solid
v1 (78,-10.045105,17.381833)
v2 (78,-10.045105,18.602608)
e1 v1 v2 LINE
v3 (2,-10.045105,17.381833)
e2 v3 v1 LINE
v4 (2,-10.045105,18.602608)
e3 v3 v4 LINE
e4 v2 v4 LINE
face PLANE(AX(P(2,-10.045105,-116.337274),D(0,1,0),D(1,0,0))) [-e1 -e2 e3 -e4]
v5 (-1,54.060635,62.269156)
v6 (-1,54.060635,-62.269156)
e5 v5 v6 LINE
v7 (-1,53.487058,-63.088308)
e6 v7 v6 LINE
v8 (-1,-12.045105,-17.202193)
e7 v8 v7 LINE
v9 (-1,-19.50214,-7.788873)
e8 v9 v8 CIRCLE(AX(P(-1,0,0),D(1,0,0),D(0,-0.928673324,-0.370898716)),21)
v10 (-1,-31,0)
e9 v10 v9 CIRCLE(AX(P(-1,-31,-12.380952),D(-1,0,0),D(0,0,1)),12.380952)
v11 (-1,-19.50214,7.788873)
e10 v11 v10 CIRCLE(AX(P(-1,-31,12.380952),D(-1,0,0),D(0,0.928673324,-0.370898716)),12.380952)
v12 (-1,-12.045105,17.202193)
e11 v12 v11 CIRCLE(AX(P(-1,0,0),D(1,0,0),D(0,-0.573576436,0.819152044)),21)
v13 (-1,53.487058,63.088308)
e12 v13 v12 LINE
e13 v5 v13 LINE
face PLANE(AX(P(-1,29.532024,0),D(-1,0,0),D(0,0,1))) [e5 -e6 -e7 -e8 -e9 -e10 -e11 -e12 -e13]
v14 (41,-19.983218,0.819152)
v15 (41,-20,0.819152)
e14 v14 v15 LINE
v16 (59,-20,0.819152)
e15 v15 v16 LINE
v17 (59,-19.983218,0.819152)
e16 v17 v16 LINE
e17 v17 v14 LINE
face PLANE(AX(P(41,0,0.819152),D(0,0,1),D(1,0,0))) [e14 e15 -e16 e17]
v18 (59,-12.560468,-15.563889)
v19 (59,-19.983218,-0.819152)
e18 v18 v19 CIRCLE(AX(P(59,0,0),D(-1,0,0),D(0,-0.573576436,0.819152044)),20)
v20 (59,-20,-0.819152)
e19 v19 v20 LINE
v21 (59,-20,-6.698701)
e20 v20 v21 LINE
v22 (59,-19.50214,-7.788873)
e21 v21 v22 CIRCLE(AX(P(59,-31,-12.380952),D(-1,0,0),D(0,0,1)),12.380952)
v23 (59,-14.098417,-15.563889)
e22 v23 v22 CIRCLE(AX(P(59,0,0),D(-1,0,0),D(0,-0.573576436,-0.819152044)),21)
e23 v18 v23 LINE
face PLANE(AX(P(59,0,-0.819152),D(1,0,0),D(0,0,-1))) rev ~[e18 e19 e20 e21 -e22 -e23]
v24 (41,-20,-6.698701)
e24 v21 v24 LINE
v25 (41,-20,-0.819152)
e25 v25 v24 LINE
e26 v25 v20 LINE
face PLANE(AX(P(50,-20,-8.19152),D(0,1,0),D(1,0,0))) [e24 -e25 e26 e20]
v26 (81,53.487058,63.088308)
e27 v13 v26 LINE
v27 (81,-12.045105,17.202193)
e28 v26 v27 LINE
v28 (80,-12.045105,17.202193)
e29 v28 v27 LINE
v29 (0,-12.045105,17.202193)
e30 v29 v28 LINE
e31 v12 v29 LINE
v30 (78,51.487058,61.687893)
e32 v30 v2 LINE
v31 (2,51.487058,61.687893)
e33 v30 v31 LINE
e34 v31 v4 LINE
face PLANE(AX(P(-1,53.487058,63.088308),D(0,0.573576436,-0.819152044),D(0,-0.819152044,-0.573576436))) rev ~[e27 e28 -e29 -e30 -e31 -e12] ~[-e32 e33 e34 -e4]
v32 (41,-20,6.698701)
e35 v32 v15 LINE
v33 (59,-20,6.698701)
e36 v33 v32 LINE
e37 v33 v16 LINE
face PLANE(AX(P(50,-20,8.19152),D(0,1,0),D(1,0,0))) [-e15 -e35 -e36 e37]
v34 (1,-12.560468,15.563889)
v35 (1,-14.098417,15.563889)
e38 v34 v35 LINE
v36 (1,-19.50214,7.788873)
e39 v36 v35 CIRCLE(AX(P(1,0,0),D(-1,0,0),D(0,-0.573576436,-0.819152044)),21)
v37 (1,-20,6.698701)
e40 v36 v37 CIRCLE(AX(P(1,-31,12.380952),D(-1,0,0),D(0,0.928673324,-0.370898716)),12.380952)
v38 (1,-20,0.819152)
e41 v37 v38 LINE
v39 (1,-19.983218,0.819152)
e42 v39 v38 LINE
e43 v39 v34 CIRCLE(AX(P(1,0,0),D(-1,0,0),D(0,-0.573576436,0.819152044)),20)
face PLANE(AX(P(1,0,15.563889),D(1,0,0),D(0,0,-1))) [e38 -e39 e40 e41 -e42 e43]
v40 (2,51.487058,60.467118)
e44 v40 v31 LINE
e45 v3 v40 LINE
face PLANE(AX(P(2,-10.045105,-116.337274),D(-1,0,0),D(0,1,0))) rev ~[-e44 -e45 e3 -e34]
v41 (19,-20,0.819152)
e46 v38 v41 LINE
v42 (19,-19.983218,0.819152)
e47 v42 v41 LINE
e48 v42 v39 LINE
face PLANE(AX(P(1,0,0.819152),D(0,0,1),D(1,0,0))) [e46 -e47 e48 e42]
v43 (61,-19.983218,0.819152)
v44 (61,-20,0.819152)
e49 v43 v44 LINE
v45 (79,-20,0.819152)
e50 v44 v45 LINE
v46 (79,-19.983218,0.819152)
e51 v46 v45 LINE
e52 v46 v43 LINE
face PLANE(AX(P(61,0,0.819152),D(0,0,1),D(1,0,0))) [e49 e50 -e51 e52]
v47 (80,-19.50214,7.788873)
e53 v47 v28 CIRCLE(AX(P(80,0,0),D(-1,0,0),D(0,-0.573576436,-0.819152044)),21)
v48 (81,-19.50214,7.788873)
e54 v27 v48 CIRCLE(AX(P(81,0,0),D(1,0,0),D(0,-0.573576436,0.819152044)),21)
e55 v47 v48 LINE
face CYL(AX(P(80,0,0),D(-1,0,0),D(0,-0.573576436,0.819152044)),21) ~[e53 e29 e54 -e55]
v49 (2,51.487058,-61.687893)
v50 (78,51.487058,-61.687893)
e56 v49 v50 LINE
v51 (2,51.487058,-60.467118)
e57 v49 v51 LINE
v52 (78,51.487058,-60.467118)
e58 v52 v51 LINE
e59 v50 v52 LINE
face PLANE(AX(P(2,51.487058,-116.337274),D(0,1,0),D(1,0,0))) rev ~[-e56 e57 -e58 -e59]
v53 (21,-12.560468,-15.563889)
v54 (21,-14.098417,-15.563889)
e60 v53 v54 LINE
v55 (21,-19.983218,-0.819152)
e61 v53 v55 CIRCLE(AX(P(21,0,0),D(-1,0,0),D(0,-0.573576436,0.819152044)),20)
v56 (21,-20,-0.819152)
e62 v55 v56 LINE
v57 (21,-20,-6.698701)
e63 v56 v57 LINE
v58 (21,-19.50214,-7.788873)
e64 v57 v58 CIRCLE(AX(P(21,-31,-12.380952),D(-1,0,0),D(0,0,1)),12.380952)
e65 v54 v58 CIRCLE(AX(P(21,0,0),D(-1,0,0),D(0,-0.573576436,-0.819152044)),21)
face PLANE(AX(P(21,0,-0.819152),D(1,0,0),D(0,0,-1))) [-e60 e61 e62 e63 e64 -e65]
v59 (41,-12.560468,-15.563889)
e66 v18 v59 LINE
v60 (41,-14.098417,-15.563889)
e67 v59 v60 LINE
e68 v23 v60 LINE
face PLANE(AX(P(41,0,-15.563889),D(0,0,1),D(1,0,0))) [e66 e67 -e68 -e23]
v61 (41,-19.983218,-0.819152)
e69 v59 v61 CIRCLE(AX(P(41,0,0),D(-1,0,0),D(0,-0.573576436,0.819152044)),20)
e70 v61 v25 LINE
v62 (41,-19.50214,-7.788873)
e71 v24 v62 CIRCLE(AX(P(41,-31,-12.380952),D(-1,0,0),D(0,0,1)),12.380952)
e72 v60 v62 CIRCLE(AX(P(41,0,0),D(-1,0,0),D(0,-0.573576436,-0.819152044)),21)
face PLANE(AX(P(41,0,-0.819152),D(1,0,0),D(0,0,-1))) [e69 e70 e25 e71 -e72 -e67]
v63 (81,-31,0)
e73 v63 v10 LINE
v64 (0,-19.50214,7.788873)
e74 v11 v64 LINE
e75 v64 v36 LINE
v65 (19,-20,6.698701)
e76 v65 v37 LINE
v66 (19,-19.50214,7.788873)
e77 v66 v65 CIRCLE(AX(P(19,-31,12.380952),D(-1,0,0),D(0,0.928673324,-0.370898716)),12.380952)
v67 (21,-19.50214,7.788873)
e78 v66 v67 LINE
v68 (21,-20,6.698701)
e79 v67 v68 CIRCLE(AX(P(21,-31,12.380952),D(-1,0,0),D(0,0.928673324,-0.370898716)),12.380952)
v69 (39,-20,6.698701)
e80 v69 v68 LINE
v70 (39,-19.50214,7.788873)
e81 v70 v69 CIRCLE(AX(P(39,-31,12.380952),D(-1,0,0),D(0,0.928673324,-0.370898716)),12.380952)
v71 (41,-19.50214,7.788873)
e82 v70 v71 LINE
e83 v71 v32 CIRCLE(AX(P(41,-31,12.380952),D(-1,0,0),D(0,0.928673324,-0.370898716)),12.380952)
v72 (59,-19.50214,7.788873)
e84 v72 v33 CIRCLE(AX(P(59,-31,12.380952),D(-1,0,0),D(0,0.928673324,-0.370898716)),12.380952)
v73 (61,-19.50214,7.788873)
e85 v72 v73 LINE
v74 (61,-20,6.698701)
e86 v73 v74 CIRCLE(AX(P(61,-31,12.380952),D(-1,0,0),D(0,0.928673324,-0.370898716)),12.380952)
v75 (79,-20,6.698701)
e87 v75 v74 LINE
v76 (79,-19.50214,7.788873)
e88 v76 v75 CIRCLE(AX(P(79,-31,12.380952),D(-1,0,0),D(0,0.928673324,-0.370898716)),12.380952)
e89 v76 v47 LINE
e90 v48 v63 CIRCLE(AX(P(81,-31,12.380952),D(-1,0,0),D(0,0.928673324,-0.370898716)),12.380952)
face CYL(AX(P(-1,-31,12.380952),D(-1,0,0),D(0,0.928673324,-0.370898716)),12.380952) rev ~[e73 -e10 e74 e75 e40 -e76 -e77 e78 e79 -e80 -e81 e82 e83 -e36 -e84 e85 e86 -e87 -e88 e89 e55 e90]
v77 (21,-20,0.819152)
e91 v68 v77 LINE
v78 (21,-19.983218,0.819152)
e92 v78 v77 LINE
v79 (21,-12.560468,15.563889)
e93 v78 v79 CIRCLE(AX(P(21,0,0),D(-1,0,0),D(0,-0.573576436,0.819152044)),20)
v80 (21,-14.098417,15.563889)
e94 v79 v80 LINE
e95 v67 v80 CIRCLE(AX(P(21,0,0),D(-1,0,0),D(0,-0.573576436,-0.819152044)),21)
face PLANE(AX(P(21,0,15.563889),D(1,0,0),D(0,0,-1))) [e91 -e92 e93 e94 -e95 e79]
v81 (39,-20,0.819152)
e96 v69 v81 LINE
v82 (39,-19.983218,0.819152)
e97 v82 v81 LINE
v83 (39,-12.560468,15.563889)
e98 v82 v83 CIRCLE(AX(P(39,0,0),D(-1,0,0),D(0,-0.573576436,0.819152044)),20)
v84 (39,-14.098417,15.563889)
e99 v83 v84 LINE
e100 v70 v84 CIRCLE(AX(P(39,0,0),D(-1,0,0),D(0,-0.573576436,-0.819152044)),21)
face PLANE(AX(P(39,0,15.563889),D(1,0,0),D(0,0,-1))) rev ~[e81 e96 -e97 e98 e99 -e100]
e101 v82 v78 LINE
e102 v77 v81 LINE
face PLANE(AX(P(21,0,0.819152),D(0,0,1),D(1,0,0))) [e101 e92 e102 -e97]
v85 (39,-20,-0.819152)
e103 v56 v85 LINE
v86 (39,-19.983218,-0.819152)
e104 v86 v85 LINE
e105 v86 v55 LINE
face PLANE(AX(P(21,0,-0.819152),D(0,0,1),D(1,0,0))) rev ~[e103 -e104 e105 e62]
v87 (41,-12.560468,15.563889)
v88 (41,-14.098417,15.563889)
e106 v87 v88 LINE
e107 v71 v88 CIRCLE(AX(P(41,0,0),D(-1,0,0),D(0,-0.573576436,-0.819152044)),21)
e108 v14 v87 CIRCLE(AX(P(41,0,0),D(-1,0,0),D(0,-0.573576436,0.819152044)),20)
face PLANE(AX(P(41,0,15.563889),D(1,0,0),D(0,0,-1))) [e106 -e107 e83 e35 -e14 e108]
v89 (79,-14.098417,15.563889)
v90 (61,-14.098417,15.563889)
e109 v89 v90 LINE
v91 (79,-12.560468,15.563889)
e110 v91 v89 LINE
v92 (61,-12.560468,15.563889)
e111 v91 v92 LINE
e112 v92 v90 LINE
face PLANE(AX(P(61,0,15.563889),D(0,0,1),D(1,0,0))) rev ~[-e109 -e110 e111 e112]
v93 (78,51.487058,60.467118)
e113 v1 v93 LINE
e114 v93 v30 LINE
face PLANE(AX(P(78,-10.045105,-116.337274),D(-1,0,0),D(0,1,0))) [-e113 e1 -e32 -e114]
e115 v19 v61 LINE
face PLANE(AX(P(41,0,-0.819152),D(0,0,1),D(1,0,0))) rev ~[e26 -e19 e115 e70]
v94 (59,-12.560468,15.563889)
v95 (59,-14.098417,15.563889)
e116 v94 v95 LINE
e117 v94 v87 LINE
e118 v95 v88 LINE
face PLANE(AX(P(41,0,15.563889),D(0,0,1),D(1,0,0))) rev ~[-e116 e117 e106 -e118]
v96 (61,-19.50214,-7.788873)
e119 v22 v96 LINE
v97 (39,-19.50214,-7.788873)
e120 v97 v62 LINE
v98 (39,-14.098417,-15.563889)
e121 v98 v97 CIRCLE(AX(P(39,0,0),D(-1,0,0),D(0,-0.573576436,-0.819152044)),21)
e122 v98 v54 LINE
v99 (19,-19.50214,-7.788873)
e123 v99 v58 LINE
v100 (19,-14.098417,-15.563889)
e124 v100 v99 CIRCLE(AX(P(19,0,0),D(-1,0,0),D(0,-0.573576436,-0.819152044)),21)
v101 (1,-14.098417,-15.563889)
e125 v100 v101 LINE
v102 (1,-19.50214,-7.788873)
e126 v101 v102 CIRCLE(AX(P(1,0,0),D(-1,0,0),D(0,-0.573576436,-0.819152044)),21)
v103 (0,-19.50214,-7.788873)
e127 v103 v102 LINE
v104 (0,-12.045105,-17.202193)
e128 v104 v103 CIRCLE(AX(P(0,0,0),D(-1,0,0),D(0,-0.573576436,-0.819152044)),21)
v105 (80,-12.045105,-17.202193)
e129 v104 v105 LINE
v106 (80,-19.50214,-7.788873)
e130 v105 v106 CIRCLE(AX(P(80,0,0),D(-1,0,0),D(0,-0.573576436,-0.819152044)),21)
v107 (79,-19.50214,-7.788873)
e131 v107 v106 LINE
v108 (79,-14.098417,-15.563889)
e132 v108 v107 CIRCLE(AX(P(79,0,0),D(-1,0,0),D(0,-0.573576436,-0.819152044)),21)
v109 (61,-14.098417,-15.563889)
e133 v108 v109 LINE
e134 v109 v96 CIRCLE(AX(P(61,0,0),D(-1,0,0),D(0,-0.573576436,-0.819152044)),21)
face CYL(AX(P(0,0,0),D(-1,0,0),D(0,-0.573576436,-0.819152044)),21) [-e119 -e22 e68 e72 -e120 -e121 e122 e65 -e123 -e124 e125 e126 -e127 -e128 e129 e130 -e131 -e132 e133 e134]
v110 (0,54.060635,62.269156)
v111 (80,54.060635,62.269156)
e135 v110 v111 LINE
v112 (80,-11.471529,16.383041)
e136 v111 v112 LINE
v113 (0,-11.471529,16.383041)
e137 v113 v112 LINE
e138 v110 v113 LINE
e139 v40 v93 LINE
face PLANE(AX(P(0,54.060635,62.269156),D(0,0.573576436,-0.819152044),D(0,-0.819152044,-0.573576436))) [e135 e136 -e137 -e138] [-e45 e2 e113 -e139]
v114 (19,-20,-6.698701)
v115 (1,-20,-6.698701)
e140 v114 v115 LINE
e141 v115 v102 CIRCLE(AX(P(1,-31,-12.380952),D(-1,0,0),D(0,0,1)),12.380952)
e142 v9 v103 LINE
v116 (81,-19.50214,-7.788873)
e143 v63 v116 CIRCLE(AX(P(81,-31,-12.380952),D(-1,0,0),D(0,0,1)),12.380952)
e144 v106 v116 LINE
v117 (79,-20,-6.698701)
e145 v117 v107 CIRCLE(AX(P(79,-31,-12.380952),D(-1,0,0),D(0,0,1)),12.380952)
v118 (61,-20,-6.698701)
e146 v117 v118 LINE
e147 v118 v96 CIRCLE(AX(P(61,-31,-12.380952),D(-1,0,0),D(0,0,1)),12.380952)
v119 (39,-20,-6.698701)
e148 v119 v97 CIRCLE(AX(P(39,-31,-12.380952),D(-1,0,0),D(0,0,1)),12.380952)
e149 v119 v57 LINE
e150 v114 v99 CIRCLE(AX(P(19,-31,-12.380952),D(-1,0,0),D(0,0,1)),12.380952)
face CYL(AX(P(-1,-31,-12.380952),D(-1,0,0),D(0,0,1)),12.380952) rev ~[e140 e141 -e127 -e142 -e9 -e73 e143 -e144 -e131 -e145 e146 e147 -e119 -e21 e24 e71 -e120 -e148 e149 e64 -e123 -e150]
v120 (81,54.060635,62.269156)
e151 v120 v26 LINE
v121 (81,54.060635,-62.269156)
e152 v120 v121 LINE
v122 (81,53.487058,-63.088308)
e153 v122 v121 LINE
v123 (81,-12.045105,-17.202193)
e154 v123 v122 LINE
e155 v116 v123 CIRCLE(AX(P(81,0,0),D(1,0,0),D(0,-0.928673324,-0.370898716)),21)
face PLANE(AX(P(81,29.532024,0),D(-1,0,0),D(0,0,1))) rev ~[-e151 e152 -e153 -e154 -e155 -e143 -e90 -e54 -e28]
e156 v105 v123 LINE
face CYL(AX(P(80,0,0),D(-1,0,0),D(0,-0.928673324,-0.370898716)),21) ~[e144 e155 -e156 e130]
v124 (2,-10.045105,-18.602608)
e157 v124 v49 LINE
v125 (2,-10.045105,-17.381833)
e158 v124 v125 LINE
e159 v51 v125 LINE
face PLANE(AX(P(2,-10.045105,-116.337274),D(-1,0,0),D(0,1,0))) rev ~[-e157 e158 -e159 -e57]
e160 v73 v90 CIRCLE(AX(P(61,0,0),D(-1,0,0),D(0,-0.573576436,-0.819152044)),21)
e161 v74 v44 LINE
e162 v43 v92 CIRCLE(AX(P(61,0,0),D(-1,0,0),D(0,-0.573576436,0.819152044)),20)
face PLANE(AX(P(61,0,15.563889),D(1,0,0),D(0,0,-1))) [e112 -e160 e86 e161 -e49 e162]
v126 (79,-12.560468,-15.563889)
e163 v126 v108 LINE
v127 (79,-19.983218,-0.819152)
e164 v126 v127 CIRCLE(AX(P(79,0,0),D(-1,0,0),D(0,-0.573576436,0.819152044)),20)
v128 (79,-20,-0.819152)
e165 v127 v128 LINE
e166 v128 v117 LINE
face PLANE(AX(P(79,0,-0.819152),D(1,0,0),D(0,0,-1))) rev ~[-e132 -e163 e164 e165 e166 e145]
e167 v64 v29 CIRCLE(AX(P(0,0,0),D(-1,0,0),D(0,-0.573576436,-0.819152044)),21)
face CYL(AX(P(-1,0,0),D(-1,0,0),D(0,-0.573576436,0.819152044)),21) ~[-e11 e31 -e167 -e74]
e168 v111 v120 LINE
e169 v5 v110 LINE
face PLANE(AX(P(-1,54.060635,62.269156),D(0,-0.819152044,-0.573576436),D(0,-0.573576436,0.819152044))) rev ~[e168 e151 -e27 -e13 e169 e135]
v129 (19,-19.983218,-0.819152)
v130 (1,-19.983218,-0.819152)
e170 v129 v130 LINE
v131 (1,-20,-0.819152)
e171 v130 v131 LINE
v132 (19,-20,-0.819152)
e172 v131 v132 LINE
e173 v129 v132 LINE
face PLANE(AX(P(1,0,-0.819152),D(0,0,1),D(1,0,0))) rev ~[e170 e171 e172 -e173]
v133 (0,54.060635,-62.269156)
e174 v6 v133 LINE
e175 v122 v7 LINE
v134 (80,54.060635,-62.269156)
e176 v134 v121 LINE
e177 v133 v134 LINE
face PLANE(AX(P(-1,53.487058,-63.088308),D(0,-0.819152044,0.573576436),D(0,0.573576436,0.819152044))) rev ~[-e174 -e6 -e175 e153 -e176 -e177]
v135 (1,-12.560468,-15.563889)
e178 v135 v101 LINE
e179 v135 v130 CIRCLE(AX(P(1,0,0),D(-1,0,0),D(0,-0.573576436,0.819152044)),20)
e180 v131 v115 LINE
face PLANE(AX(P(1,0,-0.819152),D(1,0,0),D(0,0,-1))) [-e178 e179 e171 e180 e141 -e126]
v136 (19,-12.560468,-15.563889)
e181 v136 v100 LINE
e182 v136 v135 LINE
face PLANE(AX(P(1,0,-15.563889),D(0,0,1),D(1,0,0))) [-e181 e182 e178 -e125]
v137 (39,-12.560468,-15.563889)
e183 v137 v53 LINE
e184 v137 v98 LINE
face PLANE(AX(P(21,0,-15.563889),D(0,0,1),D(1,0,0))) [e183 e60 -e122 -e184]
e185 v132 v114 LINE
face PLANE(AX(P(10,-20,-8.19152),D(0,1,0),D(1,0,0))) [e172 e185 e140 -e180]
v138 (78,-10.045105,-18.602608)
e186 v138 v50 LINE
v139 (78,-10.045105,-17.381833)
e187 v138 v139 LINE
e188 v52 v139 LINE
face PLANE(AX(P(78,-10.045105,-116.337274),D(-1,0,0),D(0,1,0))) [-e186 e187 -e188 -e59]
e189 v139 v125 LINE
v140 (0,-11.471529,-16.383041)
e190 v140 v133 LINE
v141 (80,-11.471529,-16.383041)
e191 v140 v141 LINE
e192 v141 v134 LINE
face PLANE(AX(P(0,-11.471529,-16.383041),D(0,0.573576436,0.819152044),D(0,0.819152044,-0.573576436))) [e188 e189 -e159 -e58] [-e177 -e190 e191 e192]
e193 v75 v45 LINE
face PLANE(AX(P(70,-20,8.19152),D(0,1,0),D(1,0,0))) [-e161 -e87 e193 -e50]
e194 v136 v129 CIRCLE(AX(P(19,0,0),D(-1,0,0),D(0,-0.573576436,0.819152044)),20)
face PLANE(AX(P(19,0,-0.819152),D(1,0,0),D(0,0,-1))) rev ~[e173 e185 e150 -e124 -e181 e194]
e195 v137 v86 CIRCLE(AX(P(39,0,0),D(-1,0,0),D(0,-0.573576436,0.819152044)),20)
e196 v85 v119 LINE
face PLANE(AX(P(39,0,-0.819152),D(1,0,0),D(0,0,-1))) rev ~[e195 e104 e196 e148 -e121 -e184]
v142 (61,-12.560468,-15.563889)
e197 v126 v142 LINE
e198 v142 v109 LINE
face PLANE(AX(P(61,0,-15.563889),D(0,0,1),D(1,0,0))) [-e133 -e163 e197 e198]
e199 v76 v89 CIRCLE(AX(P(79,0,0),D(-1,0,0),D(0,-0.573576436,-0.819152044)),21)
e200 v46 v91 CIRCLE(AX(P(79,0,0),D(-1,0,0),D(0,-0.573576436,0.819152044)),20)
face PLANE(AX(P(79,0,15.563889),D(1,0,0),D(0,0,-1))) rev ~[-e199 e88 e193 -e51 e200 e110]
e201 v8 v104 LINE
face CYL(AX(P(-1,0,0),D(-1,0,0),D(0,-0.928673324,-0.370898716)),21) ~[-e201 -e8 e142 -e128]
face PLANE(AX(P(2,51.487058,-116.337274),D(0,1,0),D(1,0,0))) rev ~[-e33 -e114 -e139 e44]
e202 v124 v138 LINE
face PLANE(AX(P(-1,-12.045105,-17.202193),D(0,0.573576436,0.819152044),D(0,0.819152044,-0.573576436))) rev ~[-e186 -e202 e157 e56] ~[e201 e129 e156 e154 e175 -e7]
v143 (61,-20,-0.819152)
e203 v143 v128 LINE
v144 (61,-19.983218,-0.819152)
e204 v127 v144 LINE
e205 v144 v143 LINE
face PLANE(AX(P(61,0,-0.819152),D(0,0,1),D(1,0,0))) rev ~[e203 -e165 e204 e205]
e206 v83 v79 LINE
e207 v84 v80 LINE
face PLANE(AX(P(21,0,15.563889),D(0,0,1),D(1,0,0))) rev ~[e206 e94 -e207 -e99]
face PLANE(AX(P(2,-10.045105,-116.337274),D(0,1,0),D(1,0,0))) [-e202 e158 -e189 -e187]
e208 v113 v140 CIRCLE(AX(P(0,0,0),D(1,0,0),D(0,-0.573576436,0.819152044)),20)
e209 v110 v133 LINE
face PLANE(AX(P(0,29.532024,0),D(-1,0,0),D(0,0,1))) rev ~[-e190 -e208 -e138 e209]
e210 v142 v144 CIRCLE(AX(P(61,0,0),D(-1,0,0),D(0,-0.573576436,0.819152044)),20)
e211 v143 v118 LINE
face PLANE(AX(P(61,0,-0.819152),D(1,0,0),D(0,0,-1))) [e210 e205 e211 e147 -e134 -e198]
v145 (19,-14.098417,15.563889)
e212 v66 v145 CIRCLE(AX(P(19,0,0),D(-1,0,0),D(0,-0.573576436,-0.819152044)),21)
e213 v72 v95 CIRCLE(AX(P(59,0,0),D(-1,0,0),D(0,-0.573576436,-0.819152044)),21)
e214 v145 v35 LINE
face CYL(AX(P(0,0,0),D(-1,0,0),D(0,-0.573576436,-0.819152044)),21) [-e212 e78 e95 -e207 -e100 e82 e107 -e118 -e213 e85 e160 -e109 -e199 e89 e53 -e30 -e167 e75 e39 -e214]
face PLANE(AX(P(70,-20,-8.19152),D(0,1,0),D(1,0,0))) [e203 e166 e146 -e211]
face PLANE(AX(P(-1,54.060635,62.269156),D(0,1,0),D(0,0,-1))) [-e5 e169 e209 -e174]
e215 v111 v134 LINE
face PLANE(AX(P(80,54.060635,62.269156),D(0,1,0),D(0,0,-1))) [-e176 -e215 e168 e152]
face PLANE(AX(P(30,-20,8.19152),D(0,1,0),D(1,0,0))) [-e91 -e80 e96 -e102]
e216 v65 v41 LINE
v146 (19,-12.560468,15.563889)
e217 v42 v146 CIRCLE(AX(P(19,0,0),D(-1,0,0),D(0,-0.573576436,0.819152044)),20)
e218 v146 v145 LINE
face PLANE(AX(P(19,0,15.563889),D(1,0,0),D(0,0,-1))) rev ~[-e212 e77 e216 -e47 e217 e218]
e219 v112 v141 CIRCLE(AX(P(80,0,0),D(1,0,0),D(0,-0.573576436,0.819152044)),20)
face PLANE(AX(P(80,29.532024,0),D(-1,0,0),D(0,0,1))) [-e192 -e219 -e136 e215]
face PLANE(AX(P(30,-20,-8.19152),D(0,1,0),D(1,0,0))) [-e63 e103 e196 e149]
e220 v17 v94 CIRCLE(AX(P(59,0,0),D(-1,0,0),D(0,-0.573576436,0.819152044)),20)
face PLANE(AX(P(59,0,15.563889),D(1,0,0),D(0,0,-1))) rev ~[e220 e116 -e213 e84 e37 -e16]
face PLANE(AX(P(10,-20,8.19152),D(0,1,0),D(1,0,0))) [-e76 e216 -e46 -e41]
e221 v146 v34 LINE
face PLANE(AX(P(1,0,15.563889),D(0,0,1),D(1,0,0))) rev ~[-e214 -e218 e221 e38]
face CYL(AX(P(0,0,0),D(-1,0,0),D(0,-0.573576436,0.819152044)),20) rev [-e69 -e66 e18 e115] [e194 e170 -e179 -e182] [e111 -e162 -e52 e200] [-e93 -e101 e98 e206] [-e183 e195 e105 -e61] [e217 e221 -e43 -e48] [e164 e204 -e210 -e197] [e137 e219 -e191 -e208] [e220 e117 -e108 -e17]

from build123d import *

# Parameters (mm, degrees)
BOSS_EXTRUDE1_DEPTH     = 80
CUT_EXTRUDE1_DEPTH      = 116.337274212
CUT_EXTRUDE1_DEPTH_BACK = 116.337274212
SKETCH2_W               = 76
SKETCH2_H               = 61.532163543
SKETCH3_W               = 18
SKETCH3_H               = 14.744736797
CUT_EXTRUDE2_DEPTH      = 20
BOSS_EXTRUDE2_DEPTH     = 1
BOSS_EXTRUDE3_START     = -81
BOSS_EXTRUDE3_DEPTH     = 1


with BuildPart() as part:
    # Sketch1 → Boss-Extrude1 (new body)
    with BuildSketch(Plane(origin=(0, 0, 0), x_dir=(0, 0, -1), z_dir=(1, 0, 0))):
        with BuildLine():
            Line((-17.20219293, -12.045105163), (-63.088307838, 53.48705838))
            Line((-63.088307838, 53.48705838), (-62.269155794, 54.060634816))
            Line((-62.269155794, 54.060634816), (-16.383040886, -11.471528727))
            ThreePointArc((-16.383040886, -11.471528727), (0, -20), (16.383040886, -11.471528727))
            Line((16.383040886, -11.471528727), (62.269155794, 54.060634816))
            Line((62.269155794, 54.060634816), (63.088307838, 53.48705838))
            Line((63.088307838, 53.48705838), (17.20219293, -12.045105163))
            ThreePointArc((17.20219293, -12.045105163), (0, -21), (-17.20219293, -12.045105163))
        make_face()
        with BuildLine():
            ThreePointArc((7.788873039, -19.5021398), (0, -21), (-7.788873039, -19.5021398))
            ThreePointArc((-7.788873039, -19.5021398), (-2.130530499, -24.056165822), (0, -31))
            ThreePointArc((0, -31), (2.130530499, -24.056165822), (7.788873039, -19.5021398))
        make_face()
    extrude(amount=BOSS_EXTRUDE1_DEPTH)

    # Sketch2 → Cut-Extrude1 (cut, two sides: drawn at the far end of the back side and taken through both)
    with BuildSketch(Plane.XY.offset(-CUT_EXTRUDE1_DEPTH_BACK)):
        with Locations((40, 20.720976608)):
            Rectangle(SKETCH2_W, SKETCH2_H)
    extrude(amount=CUT_EXTRUDE1_DEPTH + CUT_EXTRUDE1_DEPTH_BACK, mode=Mode.SUBTRACT)

    # Sketch3 → Cut-Extrude2 (cut)
    with BuildSketch(Plane(origin=(0, 0, 0), x_dir=(1, 0, 0), z_dir=(0, 1, 0))):
        with Locations((10, -8.191520442)):
            Rectangle(SKETCH3_W, SKETCH3_H)
        with Locations((10, 8.191520442)):
            Rectangle(SKETCH3_W, SKETCH3_H)
        with Locations((30, 8.191520442)):
            Rectangle(SKETCH3_W, SKETCH3_H)
        with Locations((30, -8.191520442)):
            Rectangle(SKETCH3_W, SKETCH3_H)
        with Locations((50, -8.191520442)):
            Rectangle(SKETCH3_W, SKETCH3_H)
        with Locations((50, 8.191520442)):
            Rectangle(SKETCH3_W, SKETCH3_H)
        with Locations((70, -8.191520442)):
            Rectangle(SKETCH3_W, SKETCH3_H)
        with Locations((70, 8.191520442)):
            Rectangle(SKETCH3_W, SKETCH3_H)
    extrude(amount=-CUT_EXTRUDE2_DEPTH, mode=Mode.SUBTRACT)

    # Sketch4 → Boss-Extrude2 (add)
    with BuildSketch(Plane(origin=(80, 0, 0), x_dir=(0, 0, -1), z_dir=(1, 0, 0))):
        with BuildLine():
            Line((-62.269155794, 54.060634816), (62.269155794, 54.060634816))
            Line((62.269155794, 54.060634816), (16.383040886, -11.471528727))
            ThreePointArc((16.383040886, -11.471528727), (0, -20), (-16.383040886, -11.471528727))
            Line((-16.383040886, -11.471528727), (-62.269155794, 54.060634816))
        make_face()
        with BuildLine():
            Line((-62.269155794, 54.060634816), (-63.088307838, 53.48705838))
            Line((-63.088307838, 53.48705838), (-17.20219293, -12.045105163))
            ThreePointArc((-17.20219293, -12.045105163), (-13.03994578, -16.460857026), (-7.788873039, -19.5021398))
            ThreePointArc((-7.788873039, -19.5021398), (-2.130530499, -24.056165822), (0, -31))
            ThreePointArc((0, -31), (2.130530499, -24.056165822), (7.788873039, -19.5021398))
            ThreePointArc((7.788873039, -19.5021398), (13.03994578, -16.460857026), (17.20219293, -12.045105163))
            Line((17.20219293, -12.045105163), (63.088307838, 53.48705838))
            Line((63.088307838, 53.48705838), (62.269155794, 54.060634816))
            Line((62.269155794, 54.060634816), (16.383040886, -11.471528727))
            ThreePointArc((16.383040886, -11.471528727), (0, -20), (-16.383040886, -11.471528727))
            Line((-16.383040886, -11.471528727), (-62.269155794, 54.060634816))
        make_face()
    extrude(amount=BOSS_EXTRUDE2_DEPTH)

    # Sketch4<3> → Boss-Extrude3 (add)
    with BuildSketch(Plane(origin=(80, 0, 0), x_dir=(0, 0, -1), z_dir=(1, 0, 0)).offset(BOSS_EXTRUDE3_START)):
        with BuildLine():
            Line((-62.269155794, 54.060634816), (62.269155794, 54.060634816))
            Line((62.269155794, 54.060634816), (16.383040886, -11.471528727))
            ThreePointArc((16.383040886, -11.471528727), (0, -20), (-16.383040886, -11.471528727))
            Line((-16.383040886, -11.471528727), (-62.269155794, 54.060634816))
        make_face()
        with BuildLine():
            Line((-62.269155794, 54.060634816), (-63.088307838, 53.48705838))
            Line((-63.088307838, 53.48705838), (-17.20219293, -12.045105163))
            ThreePointArc((-17.20219293, -12.045105163), (-13.03994578, -16.460857026), (-7.788873039, -19.5021398))
            ThreePointArc((-7.788873039, -19.5021398), (-2.130530499, -24.056165822), (0, -31))
            ThreePointArc((0, -31), (2.130530499, -24.056165822), (7.788873039, -19.5021398))
            ThreePointArc((7.788873039, -19.5021398), (13.03994578, -16.460857026), (17.20219293, -12.045105163))
            Line((17.20219293, -12.045105163), (63.088307838, 53.48705838))
            Line((63.088307838, 53.48705838), (62.269155794, 54.060634816))
            Line((62.269155794, 54.060634816), (16.383040886, -11.471528727))
            ThreePointArc((16.383040886, -11.471528727), (0, -20), (-16.383040886, -11.471528727))
            Line((-16.383040886, -11.471528727), (-62.269155794, 54.060634816))
        make_face()
    extrude(amount=BOSS_EXTRUDE3_DEPTH)


solid = part.part
